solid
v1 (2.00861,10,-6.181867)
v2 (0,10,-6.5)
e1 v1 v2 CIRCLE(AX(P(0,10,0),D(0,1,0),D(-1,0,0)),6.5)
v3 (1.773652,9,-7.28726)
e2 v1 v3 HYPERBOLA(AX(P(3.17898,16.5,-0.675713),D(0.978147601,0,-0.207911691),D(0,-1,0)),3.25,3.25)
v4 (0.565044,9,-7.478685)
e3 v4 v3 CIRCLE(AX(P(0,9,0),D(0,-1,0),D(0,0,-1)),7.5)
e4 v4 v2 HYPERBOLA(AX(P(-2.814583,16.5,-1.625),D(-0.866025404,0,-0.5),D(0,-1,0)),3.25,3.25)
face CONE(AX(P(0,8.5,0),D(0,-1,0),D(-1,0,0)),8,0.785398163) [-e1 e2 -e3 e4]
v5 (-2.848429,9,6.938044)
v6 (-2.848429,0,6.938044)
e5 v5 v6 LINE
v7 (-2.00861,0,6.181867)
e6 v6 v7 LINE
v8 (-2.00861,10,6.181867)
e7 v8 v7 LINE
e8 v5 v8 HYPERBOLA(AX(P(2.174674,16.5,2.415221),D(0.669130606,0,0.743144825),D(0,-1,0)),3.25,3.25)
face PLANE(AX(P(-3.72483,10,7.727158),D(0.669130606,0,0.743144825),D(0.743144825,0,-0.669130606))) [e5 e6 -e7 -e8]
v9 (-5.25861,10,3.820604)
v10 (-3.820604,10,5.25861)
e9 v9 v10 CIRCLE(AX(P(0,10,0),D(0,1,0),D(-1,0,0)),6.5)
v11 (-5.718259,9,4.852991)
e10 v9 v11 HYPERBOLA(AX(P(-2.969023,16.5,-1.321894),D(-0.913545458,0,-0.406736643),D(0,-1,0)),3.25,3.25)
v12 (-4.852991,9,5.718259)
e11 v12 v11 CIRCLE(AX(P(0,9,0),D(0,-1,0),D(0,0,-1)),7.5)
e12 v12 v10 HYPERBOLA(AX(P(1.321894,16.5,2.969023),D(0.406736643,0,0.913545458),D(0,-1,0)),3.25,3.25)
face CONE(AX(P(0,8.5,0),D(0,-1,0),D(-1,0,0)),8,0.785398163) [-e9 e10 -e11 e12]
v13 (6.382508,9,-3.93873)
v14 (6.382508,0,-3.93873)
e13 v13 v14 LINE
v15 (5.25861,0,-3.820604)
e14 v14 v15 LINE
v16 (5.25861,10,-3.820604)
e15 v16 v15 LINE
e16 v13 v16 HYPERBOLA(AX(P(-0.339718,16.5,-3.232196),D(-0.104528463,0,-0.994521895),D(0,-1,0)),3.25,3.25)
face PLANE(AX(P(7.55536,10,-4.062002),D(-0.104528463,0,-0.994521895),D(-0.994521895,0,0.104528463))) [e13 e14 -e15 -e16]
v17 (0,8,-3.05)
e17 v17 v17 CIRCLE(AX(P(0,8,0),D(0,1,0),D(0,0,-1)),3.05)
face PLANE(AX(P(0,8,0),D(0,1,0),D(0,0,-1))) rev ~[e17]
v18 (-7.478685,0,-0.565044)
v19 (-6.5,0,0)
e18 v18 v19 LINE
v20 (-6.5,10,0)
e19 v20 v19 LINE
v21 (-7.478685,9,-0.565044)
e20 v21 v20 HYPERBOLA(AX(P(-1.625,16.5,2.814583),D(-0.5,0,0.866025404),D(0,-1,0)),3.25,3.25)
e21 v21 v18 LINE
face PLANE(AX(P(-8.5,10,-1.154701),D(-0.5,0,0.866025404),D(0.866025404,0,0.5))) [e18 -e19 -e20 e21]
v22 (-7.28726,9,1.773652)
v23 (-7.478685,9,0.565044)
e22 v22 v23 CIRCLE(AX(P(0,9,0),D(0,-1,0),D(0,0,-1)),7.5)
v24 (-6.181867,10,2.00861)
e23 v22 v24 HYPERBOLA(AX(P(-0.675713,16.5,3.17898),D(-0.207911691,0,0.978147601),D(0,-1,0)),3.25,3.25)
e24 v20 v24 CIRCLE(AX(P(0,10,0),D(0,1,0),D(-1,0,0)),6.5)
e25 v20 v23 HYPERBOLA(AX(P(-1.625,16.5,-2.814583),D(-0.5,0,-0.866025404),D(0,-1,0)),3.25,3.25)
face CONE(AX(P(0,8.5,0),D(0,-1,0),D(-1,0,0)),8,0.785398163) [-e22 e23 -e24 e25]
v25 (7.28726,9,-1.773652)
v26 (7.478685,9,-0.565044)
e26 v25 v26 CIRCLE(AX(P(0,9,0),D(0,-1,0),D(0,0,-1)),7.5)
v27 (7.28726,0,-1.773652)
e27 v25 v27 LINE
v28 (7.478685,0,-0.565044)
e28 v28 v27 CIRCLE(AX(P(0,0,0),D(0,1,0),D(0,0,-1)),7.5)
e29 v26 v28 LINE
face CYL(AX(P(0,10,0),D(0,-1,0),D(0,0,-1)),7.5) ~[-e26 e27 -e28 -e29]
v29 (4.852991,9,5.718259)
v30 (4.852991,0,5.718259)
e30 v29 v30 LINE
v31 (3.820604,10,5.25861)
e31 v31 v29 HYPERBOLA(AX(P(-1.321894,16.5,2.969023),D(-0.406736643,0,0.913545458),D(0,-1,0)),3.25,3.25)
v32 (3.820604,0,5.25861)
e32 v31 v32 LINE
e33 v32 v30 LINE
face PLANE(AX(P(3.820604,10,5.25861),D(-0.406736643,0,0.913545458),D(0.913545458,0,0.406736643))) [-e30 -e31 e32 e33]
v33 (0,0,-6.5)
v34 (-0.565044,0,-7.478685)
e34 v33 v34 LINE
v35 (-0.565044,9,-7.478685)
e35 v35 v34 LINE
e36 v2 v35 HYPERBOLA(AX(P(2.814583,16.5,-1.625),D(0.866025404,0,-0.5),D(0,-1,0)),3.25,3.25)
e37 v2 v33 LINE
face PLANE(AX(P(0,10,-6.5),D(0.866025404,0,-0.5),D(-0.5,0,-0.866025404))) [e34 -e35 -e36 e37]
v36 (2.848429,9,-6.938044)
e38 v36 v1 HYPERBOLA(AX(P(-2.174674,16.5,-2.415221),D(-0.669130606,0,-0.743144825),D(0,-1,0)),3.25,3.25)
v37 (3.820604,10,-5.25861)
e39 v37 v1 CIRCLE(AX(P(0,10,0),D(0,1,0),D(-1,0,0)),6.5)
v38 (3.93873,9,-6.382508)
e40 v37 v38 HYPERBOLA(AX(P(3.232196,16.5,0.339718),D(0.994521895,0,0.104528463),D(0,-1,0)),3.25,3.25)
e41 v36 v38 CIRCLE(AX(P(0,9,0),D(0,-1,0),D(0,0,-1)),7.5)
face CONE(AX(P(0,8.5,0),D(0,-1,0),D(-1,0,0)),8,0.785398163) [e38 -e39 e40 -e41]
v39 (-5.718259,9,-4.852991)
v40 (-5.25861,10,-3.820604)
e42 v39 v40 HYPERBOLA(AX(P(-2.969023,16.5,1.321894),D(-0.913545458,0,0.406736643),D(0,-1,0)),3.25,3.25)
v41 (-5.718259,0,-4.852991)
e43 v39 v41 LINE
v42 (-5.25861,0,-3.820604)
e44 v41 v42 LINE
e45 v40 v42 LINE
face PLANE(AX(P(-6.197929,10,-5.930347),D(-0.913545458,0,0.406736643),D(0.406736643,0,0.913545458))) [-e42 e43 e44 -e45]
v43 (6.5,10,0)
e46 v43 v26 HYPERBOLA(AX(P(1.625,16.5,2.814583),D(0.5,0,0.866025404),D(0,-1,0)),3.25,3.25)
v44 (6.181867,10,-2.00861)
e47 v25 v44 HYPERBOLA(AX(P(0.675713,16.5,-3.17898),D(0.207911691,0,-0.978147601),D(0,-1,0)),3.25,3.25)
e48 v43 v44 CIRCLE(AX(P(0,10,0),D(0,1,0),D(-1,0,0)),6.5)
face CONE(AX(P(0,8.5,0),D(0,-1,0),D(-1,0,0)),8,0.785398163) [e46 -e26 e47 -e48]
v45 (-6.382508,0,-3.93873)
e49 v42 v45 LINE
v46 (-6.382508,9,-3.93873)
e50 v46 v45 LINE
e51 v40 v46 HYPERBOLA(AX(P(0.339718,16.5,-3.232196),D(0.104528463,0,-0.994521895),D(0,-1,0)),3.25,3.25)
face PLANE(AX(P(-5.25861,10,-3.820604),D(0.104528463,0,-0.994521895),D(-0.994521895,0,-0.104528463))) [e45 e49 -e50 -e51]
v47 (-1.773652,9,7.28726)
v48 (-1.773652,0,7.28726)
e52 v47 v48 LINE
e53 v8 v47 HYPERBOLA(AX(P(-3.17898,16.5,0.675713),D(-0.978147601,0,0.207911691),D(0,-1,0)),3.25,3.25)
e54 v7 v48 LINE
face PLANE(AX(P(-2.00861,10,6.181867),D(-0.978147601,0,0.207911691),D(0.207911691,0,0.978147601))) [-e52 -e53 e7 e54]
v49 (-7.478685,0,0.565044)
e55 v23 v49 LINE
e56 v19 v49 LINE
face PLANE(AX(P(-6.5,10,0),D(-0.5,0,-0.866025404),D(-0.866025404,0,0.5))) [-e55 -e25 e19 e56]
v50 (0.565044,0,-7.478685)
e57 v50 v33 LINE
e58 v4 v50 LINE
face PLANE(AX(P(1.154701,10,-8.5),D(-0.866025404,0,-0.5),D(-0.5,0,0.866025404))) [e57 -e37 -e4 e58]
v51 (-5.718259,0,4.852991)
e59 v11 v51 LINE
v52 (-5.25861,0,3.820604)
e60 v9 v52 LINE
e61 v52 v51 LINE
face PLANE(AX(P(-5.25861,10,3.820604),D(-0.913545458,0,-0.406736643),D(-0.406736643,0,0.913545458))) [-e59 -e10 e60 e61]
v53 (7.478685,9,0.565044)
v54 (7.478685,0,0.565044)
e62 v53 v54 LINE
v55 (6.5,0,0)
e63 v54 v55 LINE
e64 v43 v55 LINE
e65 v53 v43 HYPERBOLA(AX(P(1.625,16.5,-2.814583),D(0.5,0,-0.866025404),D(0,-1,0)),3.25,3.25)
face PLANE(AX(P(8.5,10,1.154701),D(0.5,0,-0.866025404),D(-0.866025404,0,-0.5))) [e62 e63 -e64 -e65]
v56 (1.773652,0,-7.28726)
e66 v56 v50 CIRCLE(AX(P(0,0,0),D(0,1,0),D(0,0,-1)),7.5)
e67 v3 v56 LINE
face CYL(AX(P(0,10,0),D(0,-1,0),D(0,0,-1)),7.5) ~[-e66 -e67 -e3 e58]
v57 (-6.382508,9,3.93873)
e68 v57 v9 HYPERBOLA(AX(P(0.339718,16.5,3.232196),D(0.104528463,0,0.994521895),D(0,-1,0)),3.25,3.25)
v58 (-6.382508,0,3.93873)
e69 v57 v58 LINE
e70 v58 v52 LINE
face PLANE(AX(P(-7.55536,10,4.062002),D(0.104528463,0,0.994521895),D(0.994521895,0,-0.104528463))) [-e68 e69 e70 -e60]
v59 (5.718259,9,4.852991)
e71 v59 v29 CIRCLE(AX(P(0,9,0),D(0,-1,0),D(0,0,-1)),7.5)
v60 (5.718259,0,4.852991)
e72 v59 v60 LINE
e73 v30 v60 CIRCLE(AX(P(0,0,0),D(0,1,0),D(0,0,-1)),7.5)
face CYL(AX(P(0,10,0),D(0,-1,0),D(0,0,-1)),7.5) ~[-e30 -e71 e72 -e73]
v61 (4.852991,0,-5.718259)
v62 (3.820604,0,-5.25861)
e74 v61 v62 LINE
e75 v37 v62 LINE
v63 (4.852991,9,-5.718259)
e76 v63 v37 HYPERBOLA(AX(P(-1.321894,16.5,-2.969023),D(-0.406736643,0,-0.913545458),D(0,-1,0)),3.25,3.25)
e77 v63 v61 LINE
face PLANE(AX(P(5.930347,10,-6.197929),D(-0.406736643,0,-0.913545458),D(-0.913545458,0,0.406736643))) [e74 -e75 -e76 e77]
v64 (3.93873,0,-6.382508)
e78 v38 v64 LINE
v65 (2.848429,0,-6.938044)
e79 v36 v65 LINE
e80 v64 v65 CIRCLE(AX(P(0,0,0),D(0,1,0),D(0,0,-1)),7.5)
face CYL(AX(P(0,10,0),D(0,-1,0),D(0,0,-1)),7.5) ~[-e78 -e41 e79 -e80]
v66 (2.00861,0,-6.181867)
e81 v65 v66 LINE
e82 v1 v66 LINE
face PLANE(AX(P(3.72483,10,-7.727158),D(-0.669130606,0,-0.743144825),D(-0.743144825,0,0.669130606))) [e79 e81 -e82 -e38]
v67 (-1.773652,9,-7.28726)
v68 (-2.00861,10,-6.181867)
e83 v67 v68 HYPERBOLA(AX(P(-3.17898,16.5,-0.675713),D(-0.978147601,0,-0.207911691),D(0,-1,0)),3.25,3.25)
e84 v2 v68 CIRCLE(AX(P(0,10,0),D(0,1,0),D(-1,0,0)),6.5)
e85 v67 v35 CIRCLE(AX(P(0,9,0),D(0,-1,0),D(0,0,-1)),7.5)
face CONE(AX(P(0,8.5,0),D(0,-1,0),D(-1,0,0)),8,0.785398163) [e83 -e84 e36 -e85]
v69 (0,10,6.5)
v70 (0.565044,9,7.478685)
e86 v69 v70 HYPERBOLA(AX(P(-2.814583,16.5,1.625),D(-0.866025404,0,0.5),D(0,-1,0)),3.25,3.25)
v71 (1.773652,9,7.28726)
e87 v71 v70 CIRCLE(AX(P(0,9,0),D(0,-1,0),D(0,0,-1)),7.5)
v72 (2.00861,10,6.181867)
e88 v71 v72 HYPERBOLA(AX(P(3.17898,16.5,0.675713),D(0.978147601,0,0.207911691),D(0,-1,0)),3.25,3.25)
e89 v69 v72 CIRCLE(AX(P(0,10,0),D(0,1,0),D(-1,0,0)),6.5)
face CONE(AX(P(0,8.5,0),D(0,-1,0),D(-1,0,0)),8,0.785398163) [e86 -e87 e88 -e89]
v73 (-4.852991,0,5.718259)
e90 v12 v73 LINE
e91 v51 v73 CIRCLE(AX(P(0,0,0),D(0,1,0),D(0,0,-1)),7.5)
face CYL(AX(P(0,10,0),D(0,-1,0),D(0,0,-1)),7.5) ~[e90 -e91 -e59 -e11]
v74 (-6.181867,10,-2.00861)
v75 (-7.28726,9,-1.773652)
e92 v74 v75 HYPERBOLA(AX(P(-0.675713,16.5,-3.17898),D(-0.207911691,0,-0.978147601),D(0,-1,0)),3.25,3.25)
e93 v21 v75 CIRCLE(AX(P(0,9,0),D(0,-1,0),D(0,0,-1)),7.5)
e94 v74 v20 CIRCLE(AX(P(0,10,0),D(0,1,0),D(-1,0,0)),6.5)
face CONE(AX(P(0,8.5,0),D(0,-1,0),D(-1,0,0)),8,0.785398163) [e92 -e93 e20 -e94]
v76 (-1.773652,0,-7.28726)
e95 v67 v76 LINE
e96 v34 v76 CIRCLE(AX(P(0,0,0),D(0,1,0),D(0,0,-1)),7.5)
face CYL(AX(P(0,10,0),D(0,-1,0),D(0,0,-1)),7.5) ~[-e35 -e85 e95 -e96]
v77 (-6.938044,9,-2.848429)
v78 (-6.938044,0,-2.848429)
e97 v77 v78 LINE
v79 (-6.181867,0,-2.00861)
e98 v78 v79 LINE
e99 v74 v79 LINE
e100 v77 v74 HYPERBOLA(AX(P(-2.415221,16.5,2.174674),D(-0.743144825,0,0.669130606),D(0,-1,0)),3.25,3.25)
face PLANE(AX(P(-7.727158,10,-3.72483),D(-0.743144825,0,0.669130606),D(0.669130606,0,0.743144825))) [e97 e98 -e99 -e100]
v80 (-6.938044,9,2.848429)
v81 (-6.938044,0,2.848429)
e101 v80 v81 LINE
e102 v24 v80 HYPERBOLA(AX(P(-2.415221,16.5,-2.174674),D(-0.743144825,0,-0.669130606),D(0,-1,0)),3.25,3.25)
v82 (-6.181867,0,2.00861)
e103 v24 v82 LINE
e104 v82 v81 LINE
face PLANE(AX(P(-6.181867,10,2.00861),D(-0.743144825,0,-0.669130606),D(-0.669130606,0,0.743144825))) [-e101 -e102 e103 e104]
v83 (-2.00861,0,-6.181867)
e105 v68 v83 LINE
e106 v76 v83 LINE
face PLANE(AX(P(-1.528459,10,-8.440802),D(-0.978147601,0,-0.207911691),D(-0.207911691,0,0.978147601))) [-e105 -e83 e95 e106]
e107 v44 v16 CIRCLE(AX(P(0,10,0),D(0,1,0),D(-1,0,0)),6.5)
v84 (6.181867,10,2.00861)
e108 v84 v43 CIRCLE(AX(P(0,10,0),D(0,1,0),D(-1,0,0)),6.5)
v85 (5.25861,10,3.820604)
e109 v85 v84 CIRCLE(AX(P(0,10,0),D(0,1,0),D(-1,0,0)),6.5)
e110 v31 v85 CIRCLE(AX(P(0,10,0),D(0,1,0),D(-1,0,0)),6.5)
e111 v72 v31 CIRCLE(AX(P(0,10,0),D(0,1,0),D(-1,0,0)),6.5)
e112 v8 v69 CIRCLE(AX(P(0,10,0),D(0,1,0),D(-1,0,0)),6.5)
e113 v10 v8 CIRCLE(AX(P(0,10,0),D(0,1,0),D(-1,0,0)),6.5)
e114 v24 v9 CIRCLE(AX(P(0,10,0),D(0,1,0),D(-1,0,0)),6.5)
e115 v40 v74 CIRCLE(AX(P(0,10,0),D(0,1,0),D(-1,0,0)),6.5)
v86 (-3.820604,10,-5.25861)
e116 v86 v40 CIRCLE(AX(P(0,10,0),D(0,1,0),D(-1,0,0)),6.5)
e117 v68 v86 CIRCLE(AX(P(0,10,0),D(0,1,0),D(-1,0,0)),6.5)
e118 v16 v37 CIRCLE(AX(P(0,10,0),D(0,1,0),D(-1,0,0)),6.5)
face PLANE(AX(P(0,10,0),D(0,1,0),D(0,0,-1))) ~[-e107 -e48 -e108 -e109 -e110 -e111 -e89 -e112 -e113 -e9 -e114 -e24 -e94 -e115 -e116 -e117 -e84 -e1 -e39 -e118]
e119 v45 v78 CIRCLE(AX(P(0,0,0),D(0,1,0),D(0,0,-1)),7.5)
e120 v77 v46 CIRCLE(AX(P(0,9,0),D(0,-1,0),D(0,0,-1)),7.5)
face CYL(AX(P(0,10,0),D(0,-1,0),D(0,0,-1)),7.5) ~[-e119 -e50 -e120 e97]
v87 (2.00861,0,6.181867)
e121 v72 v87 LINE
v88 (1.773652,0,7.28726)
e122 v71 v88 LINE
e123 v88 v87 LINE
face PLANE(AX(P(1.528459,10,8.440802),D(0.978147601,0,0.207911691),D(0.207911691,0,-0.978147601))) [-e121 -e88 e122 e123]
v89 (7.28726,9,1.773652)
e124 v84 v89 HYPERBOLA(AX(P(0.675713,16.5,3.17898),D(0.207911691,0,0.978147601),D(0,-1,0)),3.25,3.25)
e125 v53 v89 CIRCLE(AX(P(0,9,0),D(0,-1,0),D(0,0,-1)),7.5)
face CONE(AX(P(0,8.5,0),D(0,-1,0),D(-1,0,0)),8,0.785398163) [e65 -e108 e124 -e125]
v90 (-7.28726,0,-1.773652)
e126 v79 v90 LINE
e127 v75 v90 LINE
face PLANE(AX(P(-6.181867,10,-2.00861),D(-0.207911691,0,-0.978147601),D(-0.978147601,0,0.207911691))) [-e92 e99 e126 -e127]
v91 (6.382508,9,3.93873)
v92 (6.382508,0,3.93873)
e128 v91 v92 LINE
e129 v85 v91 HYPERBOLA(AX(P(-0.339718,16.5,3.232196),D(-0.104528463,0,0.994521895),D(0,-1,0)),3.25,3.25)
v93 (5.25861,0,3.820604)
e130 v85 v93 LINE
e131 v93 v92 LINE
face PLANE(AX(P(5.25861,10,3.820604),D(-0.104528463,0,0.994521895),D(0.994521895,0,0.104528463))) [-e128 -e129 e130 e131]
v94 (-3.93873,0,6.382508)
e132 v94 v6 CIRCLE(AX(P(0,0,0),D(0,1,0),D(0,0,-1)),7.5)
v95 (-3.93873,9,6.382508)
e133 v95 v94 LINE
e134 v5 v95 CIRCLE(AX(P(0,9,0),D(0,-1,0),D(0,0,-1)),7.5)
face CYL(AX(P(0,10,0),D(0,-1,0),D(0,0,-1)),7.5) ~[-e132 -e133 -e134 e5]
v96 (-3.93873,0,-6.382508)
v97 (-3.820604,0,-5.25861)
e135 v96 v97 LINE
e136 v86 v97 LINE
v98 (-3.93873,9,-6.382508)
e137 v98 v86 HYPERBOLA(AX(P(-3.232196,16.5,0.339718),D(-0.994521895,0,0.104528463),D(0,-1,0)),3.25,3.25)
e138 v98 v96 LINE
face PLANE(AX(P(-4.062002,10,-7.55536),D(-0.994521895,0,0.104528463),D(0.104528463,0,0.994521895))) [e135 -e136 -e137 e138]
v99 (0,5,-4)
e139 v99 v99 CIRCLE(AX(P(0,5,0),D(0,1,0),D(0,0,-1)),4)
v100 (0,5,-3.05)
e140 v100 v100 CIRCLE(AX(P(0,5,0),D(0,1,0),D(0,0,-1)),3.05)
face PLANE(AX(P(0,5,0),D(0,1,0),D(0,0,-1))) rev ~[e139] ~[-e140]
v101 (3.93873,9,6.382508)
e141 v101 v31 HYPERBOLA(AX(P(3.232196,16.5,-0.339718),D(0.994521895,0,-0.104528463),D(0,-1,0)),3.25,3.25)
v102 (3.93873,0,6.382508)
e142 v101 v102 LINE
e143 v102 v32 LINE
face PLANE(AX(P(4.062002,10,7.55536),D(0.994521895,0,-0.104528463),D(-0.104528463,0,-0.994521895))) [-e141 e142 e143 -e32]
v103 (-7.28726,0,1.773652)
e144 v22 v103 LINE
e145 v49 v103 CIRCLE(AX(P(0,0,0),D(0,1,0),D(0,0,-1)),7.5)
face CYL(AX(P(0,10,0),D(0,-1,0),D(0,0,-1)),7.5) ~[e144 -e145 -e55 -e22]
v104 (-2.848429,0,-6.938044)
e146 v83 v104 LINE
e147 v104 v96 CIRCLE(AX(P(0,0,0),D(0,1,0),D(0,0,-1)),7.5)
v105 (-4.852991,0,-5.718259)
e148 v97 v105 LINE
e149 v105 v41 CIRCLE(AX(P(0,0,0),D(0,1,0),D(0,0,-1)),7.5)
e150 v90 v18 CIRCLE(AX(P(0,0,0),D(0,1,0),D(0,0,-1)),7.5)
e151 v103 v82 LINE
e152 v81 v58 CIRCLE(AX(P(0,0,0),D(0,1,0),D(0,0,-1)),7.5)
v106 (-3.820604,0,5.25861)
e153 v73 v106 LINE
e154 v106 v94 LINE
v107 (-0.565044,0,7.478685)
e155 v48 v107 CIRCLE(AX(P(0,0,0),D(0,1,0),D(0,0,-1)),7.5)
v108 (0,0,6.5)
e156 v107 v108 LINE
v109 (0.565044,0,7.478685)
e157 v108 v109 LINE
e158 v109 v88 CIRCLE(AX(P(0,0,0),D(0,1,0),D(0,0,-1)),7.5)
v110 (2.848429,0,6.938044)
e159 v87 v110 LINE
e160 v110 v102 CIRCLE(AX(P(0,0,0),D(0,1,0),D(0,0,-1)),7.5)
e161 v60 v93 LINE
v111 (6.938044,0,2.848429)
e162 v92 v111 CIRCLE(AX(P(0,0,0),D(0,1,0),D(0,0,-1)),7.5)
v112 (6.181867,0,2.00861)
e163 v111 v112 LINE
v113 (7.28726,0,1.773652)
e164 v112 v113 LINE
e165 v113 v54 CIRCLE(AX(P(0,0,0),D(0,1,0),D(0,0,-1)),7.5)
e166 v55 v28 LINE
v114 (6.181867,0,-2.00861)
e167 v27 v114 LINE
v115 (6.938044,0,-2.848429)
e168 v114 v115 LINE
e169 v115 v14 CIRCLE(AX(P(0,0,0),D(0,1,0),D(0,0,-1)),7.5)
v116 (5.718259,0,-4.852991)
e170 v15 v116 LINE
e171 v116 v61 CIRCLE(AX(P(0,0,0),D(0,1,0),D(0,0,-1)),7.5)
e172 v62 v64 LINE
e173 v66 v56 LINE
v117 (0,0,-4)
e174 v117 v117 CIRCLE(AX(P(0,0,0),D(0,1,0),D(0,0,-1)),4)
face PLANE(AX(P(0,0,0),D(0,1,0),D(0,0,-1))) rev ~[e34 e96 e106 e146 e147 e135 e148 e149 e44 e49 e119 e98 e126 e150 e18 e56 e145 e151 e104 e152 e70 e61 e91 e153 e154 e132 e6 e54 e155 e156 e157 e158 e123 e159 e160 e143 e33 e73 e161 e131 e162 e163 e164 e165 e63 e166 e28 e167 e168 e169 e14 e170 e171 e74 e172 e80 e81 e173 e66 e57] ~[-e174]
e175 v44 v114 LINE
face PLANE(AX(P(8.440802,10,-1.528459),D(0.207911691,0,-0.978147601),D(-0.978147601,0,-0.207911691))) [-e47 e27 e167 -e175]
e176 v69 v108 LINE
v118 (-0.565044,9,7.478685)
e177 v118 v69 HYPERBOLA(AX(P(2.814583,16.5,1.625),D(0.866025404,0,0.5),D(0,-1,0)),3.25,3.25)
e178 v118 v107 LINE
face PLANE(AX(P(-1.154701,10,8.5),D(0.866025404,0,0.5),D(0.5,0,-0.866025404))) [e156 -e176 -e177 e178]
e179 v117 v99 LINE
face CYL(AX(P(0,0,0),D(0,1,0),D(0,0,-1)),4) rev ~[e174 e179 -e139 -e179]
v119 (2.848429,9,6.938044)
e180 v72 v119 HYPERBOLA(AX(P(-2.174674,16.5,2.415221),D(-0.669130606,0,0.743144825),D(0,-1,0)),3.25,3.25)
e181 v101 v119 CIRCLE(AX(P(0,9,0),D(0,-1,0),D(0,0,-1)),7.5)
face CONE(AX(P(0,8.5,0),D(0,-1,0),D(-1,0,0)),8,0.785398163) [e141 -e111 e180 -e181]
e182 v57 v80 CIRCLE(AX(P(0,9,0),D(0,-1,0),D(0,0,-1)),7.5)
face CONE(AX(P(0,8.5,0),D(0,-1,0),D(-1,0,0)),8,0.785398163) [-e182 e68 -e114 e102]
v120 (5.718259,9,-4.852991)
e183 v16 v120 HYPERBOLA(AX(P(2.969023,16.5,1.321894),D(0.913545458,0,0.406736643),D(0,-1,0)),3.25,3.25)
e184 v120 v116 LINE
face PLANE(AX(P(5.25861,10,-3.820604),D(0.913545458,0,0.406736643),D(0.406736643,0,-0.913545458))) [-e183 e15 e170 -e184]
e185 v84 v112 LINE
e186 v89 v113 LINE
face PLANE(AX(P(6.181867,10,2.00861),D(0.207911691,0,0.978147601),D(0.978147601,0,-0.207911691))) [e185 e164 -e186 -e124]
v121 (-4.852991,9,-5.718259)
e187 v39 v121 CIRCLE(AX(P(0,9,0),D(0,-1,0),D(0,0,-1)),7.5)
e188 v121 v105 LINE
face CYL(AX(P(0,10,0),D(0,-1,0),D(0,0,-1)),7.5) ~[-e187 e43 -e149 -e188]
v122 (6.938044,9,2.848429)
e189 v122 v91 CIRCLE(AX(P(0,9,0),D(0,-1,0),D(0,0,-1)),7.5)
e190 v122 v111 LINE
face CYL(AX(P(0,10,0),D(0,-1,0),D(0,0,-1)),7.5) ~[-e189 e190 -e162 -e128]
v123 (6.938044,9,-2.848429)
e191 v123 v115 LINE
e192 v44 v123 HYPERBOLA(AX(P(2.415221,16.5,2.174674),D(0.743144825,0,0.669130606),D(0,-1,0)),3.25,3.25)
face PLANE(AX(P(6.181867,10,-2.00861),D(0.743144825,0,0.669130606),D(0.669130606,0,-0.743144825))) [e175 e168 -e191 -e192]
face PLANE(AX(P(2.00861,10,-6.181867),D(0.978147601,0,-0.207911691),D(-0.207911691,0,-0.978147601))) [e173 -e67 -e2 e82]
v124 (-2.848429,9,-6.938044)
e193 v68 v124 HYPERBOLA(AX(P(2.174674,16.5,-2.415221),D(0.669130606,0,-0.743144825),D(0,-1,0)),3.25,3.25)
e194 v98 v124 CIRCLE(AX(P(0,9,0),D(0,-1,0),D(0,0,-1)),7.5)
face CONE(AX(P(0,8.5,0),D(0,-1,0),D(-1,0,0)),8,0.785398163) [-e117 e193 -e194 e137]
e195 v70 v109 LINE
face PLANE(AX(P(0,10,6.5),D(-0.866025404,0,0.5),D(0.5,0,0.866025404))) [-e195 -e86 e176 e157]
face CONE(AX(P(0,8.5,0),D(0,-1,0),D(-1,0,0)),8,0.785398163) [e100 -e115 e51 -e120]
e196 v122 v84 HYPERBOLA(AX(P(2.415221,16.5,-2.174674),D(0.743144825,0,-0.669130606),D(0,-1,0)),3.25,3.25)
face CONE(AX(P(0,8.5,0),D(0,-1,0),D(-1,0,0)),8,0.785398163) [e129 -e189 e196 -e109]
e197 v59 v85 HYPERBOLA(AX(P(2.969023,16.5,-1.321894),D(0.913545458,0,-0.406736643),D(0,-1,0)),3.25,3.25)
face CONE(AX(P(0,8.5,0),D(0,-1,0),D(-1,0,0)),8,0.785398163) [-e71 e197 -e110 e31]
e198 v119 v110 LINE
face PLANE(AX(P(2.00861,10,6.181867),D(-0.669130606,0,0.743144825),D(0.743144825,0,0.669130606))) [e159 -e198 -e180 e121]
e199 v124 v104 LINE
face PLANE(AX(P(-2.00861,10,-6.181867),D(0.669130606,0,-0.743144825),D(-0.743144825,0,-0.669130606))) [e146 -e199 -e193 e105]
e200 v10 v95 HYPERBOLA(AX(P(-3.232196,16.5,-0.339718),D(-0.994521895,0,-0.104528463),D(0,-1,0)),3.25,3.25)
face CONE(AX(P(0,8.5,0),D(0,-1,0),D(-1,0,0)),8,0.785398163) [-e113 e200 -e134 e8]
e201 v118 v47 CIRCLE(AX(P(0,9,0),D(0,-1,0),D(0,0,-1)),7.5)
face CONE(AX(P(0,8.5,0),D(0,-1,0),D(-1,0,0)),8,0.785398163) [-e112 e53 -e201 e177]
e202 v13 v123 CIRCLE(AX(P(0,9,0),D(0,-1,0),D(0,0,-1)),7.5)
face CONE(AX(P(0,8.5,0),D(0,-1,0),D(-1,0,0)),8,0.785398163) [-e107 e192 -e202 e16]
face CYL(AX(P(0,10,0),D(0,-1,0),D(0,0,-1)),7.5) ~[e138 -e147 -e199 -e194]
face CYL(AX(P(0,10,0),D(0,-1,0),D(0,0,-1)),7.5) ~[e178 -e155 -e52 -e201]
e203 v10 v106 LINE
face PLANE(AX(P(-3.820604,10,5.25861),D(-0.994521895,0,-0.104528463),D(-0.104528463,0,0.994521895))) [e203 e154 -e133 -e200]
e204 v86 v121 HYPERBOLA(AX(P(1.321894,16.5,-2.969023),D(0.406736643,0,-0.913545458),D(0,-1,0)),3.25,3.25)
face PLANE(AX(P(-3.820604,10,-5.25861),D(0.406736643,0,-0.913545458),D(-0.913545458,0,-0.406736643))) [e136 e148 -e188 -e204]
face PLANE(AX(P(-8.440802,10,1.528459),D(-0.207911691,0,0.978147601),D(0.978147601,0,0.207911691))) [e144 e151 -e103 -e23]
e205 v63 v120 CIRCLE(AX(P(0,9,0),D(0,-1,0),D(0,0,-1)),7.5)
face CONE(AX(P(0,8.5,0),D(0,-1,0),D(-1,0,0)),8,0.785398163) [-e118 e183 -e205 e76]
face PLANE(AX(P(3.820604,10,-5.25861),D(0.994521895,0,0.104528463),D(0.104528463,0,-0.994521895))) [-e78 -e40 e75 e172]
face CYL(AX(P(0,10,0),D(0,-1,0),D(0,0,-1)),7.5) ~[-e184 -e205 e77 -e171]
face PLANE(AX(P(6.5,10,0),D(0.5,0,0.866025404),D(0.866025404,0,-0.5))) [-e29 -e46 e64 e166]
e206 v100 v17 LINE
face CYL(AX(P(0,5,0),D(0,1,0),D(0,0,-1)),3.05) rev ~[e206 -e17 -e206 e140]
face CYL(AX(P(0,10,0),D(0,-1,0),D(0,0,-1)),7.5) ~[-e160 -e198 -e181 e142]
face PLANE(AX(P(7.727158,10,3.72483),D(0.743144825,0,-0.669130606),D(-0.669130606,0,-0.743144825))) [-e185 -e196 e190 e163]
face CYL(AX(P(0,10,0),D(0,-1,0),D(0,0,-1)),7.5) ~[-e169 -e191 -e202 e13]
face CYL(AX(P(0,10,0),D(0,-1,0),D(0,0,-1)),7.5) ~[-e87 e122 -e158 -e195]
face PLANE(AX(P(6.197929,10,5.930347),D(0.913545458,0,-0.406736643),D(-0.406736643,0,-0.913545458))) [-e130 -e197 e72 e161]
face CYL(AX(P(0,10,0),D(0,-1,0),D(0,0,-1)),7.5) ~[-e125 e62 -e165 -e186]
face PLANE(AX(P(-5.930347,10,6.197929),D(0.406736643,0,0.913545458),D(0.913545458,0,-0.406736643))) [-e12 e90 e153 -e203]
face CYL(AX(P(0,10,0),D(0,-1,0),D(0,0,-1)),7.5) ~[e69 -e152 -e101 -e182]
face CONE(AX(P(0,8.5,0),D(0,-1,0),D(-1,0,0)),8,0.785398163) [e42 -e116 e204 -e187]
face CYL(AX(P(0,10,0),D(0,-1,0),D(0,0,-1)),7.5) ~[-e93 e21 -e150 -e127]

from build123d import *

# Parameters (mm, degrees)
CUT_EXTRUDE1_DEPTH = 10
CIRPATTERN1_COUNT  = 20


with BuildPart() as part:
    # Sketch1 → Revolve1 (revolve)
    with BuildSketch(Plane.XY, mode=Mode.PRIVATE) as revolve1_sk:
        Polygon((0, 8), (0, 10), (7.5, 10), (7.5, 0), (4, 0), (4, 5), (3.05, 5), (3.05, 8), align=None)
    revolve(revolve1_sk.sketch.rotate(Axis((0, 0, 0), (0, 1, 0)), 90), axis=Axis((0, 0, 0), (0, 1, 0)))

    # Sketch2 → Cut-Extrude1 (cut)
    with BuildSketch(Plane(origin=(0, 10, 0), x_dir=(1, 0, 0), z_dir=(0, 1, 0))):
        Polygon((0, 8.5), (1.154700538, 8.5), (0, 6.5), (-1.154700538, 8.5), align=None)
    cut_extrude1 = extrude(amount=-CUT_EXTRUDE1_DEPTH, mode=Mode.SUBTRACT)

    # CirPattern1: Cut-Extrude1 ×20 about axis
    cirpattern1_axis = Axis((0, 0, 0), (0, 1, 0))
    for i in range(1, CIRPATTERN1_COUNT):
        add(cut_extrude1.rotate(cirpattern1_axis, i * 360 / CIRPATTERN1_COUNT), mode=Mode.SUBTRACT)

    # Sketch3 → Cut-Revolve1 (revolve, cut)
    with BuildSketch(Plane.XY):
        Polygon((-8, 8.5), (-6, 10.5), (-8, 10.5), align=None)
    revolve(axis=Axis((0, 0, 0), (0, 1, 0)), mode=Mode.SUBTRACT)


solid = part.part
